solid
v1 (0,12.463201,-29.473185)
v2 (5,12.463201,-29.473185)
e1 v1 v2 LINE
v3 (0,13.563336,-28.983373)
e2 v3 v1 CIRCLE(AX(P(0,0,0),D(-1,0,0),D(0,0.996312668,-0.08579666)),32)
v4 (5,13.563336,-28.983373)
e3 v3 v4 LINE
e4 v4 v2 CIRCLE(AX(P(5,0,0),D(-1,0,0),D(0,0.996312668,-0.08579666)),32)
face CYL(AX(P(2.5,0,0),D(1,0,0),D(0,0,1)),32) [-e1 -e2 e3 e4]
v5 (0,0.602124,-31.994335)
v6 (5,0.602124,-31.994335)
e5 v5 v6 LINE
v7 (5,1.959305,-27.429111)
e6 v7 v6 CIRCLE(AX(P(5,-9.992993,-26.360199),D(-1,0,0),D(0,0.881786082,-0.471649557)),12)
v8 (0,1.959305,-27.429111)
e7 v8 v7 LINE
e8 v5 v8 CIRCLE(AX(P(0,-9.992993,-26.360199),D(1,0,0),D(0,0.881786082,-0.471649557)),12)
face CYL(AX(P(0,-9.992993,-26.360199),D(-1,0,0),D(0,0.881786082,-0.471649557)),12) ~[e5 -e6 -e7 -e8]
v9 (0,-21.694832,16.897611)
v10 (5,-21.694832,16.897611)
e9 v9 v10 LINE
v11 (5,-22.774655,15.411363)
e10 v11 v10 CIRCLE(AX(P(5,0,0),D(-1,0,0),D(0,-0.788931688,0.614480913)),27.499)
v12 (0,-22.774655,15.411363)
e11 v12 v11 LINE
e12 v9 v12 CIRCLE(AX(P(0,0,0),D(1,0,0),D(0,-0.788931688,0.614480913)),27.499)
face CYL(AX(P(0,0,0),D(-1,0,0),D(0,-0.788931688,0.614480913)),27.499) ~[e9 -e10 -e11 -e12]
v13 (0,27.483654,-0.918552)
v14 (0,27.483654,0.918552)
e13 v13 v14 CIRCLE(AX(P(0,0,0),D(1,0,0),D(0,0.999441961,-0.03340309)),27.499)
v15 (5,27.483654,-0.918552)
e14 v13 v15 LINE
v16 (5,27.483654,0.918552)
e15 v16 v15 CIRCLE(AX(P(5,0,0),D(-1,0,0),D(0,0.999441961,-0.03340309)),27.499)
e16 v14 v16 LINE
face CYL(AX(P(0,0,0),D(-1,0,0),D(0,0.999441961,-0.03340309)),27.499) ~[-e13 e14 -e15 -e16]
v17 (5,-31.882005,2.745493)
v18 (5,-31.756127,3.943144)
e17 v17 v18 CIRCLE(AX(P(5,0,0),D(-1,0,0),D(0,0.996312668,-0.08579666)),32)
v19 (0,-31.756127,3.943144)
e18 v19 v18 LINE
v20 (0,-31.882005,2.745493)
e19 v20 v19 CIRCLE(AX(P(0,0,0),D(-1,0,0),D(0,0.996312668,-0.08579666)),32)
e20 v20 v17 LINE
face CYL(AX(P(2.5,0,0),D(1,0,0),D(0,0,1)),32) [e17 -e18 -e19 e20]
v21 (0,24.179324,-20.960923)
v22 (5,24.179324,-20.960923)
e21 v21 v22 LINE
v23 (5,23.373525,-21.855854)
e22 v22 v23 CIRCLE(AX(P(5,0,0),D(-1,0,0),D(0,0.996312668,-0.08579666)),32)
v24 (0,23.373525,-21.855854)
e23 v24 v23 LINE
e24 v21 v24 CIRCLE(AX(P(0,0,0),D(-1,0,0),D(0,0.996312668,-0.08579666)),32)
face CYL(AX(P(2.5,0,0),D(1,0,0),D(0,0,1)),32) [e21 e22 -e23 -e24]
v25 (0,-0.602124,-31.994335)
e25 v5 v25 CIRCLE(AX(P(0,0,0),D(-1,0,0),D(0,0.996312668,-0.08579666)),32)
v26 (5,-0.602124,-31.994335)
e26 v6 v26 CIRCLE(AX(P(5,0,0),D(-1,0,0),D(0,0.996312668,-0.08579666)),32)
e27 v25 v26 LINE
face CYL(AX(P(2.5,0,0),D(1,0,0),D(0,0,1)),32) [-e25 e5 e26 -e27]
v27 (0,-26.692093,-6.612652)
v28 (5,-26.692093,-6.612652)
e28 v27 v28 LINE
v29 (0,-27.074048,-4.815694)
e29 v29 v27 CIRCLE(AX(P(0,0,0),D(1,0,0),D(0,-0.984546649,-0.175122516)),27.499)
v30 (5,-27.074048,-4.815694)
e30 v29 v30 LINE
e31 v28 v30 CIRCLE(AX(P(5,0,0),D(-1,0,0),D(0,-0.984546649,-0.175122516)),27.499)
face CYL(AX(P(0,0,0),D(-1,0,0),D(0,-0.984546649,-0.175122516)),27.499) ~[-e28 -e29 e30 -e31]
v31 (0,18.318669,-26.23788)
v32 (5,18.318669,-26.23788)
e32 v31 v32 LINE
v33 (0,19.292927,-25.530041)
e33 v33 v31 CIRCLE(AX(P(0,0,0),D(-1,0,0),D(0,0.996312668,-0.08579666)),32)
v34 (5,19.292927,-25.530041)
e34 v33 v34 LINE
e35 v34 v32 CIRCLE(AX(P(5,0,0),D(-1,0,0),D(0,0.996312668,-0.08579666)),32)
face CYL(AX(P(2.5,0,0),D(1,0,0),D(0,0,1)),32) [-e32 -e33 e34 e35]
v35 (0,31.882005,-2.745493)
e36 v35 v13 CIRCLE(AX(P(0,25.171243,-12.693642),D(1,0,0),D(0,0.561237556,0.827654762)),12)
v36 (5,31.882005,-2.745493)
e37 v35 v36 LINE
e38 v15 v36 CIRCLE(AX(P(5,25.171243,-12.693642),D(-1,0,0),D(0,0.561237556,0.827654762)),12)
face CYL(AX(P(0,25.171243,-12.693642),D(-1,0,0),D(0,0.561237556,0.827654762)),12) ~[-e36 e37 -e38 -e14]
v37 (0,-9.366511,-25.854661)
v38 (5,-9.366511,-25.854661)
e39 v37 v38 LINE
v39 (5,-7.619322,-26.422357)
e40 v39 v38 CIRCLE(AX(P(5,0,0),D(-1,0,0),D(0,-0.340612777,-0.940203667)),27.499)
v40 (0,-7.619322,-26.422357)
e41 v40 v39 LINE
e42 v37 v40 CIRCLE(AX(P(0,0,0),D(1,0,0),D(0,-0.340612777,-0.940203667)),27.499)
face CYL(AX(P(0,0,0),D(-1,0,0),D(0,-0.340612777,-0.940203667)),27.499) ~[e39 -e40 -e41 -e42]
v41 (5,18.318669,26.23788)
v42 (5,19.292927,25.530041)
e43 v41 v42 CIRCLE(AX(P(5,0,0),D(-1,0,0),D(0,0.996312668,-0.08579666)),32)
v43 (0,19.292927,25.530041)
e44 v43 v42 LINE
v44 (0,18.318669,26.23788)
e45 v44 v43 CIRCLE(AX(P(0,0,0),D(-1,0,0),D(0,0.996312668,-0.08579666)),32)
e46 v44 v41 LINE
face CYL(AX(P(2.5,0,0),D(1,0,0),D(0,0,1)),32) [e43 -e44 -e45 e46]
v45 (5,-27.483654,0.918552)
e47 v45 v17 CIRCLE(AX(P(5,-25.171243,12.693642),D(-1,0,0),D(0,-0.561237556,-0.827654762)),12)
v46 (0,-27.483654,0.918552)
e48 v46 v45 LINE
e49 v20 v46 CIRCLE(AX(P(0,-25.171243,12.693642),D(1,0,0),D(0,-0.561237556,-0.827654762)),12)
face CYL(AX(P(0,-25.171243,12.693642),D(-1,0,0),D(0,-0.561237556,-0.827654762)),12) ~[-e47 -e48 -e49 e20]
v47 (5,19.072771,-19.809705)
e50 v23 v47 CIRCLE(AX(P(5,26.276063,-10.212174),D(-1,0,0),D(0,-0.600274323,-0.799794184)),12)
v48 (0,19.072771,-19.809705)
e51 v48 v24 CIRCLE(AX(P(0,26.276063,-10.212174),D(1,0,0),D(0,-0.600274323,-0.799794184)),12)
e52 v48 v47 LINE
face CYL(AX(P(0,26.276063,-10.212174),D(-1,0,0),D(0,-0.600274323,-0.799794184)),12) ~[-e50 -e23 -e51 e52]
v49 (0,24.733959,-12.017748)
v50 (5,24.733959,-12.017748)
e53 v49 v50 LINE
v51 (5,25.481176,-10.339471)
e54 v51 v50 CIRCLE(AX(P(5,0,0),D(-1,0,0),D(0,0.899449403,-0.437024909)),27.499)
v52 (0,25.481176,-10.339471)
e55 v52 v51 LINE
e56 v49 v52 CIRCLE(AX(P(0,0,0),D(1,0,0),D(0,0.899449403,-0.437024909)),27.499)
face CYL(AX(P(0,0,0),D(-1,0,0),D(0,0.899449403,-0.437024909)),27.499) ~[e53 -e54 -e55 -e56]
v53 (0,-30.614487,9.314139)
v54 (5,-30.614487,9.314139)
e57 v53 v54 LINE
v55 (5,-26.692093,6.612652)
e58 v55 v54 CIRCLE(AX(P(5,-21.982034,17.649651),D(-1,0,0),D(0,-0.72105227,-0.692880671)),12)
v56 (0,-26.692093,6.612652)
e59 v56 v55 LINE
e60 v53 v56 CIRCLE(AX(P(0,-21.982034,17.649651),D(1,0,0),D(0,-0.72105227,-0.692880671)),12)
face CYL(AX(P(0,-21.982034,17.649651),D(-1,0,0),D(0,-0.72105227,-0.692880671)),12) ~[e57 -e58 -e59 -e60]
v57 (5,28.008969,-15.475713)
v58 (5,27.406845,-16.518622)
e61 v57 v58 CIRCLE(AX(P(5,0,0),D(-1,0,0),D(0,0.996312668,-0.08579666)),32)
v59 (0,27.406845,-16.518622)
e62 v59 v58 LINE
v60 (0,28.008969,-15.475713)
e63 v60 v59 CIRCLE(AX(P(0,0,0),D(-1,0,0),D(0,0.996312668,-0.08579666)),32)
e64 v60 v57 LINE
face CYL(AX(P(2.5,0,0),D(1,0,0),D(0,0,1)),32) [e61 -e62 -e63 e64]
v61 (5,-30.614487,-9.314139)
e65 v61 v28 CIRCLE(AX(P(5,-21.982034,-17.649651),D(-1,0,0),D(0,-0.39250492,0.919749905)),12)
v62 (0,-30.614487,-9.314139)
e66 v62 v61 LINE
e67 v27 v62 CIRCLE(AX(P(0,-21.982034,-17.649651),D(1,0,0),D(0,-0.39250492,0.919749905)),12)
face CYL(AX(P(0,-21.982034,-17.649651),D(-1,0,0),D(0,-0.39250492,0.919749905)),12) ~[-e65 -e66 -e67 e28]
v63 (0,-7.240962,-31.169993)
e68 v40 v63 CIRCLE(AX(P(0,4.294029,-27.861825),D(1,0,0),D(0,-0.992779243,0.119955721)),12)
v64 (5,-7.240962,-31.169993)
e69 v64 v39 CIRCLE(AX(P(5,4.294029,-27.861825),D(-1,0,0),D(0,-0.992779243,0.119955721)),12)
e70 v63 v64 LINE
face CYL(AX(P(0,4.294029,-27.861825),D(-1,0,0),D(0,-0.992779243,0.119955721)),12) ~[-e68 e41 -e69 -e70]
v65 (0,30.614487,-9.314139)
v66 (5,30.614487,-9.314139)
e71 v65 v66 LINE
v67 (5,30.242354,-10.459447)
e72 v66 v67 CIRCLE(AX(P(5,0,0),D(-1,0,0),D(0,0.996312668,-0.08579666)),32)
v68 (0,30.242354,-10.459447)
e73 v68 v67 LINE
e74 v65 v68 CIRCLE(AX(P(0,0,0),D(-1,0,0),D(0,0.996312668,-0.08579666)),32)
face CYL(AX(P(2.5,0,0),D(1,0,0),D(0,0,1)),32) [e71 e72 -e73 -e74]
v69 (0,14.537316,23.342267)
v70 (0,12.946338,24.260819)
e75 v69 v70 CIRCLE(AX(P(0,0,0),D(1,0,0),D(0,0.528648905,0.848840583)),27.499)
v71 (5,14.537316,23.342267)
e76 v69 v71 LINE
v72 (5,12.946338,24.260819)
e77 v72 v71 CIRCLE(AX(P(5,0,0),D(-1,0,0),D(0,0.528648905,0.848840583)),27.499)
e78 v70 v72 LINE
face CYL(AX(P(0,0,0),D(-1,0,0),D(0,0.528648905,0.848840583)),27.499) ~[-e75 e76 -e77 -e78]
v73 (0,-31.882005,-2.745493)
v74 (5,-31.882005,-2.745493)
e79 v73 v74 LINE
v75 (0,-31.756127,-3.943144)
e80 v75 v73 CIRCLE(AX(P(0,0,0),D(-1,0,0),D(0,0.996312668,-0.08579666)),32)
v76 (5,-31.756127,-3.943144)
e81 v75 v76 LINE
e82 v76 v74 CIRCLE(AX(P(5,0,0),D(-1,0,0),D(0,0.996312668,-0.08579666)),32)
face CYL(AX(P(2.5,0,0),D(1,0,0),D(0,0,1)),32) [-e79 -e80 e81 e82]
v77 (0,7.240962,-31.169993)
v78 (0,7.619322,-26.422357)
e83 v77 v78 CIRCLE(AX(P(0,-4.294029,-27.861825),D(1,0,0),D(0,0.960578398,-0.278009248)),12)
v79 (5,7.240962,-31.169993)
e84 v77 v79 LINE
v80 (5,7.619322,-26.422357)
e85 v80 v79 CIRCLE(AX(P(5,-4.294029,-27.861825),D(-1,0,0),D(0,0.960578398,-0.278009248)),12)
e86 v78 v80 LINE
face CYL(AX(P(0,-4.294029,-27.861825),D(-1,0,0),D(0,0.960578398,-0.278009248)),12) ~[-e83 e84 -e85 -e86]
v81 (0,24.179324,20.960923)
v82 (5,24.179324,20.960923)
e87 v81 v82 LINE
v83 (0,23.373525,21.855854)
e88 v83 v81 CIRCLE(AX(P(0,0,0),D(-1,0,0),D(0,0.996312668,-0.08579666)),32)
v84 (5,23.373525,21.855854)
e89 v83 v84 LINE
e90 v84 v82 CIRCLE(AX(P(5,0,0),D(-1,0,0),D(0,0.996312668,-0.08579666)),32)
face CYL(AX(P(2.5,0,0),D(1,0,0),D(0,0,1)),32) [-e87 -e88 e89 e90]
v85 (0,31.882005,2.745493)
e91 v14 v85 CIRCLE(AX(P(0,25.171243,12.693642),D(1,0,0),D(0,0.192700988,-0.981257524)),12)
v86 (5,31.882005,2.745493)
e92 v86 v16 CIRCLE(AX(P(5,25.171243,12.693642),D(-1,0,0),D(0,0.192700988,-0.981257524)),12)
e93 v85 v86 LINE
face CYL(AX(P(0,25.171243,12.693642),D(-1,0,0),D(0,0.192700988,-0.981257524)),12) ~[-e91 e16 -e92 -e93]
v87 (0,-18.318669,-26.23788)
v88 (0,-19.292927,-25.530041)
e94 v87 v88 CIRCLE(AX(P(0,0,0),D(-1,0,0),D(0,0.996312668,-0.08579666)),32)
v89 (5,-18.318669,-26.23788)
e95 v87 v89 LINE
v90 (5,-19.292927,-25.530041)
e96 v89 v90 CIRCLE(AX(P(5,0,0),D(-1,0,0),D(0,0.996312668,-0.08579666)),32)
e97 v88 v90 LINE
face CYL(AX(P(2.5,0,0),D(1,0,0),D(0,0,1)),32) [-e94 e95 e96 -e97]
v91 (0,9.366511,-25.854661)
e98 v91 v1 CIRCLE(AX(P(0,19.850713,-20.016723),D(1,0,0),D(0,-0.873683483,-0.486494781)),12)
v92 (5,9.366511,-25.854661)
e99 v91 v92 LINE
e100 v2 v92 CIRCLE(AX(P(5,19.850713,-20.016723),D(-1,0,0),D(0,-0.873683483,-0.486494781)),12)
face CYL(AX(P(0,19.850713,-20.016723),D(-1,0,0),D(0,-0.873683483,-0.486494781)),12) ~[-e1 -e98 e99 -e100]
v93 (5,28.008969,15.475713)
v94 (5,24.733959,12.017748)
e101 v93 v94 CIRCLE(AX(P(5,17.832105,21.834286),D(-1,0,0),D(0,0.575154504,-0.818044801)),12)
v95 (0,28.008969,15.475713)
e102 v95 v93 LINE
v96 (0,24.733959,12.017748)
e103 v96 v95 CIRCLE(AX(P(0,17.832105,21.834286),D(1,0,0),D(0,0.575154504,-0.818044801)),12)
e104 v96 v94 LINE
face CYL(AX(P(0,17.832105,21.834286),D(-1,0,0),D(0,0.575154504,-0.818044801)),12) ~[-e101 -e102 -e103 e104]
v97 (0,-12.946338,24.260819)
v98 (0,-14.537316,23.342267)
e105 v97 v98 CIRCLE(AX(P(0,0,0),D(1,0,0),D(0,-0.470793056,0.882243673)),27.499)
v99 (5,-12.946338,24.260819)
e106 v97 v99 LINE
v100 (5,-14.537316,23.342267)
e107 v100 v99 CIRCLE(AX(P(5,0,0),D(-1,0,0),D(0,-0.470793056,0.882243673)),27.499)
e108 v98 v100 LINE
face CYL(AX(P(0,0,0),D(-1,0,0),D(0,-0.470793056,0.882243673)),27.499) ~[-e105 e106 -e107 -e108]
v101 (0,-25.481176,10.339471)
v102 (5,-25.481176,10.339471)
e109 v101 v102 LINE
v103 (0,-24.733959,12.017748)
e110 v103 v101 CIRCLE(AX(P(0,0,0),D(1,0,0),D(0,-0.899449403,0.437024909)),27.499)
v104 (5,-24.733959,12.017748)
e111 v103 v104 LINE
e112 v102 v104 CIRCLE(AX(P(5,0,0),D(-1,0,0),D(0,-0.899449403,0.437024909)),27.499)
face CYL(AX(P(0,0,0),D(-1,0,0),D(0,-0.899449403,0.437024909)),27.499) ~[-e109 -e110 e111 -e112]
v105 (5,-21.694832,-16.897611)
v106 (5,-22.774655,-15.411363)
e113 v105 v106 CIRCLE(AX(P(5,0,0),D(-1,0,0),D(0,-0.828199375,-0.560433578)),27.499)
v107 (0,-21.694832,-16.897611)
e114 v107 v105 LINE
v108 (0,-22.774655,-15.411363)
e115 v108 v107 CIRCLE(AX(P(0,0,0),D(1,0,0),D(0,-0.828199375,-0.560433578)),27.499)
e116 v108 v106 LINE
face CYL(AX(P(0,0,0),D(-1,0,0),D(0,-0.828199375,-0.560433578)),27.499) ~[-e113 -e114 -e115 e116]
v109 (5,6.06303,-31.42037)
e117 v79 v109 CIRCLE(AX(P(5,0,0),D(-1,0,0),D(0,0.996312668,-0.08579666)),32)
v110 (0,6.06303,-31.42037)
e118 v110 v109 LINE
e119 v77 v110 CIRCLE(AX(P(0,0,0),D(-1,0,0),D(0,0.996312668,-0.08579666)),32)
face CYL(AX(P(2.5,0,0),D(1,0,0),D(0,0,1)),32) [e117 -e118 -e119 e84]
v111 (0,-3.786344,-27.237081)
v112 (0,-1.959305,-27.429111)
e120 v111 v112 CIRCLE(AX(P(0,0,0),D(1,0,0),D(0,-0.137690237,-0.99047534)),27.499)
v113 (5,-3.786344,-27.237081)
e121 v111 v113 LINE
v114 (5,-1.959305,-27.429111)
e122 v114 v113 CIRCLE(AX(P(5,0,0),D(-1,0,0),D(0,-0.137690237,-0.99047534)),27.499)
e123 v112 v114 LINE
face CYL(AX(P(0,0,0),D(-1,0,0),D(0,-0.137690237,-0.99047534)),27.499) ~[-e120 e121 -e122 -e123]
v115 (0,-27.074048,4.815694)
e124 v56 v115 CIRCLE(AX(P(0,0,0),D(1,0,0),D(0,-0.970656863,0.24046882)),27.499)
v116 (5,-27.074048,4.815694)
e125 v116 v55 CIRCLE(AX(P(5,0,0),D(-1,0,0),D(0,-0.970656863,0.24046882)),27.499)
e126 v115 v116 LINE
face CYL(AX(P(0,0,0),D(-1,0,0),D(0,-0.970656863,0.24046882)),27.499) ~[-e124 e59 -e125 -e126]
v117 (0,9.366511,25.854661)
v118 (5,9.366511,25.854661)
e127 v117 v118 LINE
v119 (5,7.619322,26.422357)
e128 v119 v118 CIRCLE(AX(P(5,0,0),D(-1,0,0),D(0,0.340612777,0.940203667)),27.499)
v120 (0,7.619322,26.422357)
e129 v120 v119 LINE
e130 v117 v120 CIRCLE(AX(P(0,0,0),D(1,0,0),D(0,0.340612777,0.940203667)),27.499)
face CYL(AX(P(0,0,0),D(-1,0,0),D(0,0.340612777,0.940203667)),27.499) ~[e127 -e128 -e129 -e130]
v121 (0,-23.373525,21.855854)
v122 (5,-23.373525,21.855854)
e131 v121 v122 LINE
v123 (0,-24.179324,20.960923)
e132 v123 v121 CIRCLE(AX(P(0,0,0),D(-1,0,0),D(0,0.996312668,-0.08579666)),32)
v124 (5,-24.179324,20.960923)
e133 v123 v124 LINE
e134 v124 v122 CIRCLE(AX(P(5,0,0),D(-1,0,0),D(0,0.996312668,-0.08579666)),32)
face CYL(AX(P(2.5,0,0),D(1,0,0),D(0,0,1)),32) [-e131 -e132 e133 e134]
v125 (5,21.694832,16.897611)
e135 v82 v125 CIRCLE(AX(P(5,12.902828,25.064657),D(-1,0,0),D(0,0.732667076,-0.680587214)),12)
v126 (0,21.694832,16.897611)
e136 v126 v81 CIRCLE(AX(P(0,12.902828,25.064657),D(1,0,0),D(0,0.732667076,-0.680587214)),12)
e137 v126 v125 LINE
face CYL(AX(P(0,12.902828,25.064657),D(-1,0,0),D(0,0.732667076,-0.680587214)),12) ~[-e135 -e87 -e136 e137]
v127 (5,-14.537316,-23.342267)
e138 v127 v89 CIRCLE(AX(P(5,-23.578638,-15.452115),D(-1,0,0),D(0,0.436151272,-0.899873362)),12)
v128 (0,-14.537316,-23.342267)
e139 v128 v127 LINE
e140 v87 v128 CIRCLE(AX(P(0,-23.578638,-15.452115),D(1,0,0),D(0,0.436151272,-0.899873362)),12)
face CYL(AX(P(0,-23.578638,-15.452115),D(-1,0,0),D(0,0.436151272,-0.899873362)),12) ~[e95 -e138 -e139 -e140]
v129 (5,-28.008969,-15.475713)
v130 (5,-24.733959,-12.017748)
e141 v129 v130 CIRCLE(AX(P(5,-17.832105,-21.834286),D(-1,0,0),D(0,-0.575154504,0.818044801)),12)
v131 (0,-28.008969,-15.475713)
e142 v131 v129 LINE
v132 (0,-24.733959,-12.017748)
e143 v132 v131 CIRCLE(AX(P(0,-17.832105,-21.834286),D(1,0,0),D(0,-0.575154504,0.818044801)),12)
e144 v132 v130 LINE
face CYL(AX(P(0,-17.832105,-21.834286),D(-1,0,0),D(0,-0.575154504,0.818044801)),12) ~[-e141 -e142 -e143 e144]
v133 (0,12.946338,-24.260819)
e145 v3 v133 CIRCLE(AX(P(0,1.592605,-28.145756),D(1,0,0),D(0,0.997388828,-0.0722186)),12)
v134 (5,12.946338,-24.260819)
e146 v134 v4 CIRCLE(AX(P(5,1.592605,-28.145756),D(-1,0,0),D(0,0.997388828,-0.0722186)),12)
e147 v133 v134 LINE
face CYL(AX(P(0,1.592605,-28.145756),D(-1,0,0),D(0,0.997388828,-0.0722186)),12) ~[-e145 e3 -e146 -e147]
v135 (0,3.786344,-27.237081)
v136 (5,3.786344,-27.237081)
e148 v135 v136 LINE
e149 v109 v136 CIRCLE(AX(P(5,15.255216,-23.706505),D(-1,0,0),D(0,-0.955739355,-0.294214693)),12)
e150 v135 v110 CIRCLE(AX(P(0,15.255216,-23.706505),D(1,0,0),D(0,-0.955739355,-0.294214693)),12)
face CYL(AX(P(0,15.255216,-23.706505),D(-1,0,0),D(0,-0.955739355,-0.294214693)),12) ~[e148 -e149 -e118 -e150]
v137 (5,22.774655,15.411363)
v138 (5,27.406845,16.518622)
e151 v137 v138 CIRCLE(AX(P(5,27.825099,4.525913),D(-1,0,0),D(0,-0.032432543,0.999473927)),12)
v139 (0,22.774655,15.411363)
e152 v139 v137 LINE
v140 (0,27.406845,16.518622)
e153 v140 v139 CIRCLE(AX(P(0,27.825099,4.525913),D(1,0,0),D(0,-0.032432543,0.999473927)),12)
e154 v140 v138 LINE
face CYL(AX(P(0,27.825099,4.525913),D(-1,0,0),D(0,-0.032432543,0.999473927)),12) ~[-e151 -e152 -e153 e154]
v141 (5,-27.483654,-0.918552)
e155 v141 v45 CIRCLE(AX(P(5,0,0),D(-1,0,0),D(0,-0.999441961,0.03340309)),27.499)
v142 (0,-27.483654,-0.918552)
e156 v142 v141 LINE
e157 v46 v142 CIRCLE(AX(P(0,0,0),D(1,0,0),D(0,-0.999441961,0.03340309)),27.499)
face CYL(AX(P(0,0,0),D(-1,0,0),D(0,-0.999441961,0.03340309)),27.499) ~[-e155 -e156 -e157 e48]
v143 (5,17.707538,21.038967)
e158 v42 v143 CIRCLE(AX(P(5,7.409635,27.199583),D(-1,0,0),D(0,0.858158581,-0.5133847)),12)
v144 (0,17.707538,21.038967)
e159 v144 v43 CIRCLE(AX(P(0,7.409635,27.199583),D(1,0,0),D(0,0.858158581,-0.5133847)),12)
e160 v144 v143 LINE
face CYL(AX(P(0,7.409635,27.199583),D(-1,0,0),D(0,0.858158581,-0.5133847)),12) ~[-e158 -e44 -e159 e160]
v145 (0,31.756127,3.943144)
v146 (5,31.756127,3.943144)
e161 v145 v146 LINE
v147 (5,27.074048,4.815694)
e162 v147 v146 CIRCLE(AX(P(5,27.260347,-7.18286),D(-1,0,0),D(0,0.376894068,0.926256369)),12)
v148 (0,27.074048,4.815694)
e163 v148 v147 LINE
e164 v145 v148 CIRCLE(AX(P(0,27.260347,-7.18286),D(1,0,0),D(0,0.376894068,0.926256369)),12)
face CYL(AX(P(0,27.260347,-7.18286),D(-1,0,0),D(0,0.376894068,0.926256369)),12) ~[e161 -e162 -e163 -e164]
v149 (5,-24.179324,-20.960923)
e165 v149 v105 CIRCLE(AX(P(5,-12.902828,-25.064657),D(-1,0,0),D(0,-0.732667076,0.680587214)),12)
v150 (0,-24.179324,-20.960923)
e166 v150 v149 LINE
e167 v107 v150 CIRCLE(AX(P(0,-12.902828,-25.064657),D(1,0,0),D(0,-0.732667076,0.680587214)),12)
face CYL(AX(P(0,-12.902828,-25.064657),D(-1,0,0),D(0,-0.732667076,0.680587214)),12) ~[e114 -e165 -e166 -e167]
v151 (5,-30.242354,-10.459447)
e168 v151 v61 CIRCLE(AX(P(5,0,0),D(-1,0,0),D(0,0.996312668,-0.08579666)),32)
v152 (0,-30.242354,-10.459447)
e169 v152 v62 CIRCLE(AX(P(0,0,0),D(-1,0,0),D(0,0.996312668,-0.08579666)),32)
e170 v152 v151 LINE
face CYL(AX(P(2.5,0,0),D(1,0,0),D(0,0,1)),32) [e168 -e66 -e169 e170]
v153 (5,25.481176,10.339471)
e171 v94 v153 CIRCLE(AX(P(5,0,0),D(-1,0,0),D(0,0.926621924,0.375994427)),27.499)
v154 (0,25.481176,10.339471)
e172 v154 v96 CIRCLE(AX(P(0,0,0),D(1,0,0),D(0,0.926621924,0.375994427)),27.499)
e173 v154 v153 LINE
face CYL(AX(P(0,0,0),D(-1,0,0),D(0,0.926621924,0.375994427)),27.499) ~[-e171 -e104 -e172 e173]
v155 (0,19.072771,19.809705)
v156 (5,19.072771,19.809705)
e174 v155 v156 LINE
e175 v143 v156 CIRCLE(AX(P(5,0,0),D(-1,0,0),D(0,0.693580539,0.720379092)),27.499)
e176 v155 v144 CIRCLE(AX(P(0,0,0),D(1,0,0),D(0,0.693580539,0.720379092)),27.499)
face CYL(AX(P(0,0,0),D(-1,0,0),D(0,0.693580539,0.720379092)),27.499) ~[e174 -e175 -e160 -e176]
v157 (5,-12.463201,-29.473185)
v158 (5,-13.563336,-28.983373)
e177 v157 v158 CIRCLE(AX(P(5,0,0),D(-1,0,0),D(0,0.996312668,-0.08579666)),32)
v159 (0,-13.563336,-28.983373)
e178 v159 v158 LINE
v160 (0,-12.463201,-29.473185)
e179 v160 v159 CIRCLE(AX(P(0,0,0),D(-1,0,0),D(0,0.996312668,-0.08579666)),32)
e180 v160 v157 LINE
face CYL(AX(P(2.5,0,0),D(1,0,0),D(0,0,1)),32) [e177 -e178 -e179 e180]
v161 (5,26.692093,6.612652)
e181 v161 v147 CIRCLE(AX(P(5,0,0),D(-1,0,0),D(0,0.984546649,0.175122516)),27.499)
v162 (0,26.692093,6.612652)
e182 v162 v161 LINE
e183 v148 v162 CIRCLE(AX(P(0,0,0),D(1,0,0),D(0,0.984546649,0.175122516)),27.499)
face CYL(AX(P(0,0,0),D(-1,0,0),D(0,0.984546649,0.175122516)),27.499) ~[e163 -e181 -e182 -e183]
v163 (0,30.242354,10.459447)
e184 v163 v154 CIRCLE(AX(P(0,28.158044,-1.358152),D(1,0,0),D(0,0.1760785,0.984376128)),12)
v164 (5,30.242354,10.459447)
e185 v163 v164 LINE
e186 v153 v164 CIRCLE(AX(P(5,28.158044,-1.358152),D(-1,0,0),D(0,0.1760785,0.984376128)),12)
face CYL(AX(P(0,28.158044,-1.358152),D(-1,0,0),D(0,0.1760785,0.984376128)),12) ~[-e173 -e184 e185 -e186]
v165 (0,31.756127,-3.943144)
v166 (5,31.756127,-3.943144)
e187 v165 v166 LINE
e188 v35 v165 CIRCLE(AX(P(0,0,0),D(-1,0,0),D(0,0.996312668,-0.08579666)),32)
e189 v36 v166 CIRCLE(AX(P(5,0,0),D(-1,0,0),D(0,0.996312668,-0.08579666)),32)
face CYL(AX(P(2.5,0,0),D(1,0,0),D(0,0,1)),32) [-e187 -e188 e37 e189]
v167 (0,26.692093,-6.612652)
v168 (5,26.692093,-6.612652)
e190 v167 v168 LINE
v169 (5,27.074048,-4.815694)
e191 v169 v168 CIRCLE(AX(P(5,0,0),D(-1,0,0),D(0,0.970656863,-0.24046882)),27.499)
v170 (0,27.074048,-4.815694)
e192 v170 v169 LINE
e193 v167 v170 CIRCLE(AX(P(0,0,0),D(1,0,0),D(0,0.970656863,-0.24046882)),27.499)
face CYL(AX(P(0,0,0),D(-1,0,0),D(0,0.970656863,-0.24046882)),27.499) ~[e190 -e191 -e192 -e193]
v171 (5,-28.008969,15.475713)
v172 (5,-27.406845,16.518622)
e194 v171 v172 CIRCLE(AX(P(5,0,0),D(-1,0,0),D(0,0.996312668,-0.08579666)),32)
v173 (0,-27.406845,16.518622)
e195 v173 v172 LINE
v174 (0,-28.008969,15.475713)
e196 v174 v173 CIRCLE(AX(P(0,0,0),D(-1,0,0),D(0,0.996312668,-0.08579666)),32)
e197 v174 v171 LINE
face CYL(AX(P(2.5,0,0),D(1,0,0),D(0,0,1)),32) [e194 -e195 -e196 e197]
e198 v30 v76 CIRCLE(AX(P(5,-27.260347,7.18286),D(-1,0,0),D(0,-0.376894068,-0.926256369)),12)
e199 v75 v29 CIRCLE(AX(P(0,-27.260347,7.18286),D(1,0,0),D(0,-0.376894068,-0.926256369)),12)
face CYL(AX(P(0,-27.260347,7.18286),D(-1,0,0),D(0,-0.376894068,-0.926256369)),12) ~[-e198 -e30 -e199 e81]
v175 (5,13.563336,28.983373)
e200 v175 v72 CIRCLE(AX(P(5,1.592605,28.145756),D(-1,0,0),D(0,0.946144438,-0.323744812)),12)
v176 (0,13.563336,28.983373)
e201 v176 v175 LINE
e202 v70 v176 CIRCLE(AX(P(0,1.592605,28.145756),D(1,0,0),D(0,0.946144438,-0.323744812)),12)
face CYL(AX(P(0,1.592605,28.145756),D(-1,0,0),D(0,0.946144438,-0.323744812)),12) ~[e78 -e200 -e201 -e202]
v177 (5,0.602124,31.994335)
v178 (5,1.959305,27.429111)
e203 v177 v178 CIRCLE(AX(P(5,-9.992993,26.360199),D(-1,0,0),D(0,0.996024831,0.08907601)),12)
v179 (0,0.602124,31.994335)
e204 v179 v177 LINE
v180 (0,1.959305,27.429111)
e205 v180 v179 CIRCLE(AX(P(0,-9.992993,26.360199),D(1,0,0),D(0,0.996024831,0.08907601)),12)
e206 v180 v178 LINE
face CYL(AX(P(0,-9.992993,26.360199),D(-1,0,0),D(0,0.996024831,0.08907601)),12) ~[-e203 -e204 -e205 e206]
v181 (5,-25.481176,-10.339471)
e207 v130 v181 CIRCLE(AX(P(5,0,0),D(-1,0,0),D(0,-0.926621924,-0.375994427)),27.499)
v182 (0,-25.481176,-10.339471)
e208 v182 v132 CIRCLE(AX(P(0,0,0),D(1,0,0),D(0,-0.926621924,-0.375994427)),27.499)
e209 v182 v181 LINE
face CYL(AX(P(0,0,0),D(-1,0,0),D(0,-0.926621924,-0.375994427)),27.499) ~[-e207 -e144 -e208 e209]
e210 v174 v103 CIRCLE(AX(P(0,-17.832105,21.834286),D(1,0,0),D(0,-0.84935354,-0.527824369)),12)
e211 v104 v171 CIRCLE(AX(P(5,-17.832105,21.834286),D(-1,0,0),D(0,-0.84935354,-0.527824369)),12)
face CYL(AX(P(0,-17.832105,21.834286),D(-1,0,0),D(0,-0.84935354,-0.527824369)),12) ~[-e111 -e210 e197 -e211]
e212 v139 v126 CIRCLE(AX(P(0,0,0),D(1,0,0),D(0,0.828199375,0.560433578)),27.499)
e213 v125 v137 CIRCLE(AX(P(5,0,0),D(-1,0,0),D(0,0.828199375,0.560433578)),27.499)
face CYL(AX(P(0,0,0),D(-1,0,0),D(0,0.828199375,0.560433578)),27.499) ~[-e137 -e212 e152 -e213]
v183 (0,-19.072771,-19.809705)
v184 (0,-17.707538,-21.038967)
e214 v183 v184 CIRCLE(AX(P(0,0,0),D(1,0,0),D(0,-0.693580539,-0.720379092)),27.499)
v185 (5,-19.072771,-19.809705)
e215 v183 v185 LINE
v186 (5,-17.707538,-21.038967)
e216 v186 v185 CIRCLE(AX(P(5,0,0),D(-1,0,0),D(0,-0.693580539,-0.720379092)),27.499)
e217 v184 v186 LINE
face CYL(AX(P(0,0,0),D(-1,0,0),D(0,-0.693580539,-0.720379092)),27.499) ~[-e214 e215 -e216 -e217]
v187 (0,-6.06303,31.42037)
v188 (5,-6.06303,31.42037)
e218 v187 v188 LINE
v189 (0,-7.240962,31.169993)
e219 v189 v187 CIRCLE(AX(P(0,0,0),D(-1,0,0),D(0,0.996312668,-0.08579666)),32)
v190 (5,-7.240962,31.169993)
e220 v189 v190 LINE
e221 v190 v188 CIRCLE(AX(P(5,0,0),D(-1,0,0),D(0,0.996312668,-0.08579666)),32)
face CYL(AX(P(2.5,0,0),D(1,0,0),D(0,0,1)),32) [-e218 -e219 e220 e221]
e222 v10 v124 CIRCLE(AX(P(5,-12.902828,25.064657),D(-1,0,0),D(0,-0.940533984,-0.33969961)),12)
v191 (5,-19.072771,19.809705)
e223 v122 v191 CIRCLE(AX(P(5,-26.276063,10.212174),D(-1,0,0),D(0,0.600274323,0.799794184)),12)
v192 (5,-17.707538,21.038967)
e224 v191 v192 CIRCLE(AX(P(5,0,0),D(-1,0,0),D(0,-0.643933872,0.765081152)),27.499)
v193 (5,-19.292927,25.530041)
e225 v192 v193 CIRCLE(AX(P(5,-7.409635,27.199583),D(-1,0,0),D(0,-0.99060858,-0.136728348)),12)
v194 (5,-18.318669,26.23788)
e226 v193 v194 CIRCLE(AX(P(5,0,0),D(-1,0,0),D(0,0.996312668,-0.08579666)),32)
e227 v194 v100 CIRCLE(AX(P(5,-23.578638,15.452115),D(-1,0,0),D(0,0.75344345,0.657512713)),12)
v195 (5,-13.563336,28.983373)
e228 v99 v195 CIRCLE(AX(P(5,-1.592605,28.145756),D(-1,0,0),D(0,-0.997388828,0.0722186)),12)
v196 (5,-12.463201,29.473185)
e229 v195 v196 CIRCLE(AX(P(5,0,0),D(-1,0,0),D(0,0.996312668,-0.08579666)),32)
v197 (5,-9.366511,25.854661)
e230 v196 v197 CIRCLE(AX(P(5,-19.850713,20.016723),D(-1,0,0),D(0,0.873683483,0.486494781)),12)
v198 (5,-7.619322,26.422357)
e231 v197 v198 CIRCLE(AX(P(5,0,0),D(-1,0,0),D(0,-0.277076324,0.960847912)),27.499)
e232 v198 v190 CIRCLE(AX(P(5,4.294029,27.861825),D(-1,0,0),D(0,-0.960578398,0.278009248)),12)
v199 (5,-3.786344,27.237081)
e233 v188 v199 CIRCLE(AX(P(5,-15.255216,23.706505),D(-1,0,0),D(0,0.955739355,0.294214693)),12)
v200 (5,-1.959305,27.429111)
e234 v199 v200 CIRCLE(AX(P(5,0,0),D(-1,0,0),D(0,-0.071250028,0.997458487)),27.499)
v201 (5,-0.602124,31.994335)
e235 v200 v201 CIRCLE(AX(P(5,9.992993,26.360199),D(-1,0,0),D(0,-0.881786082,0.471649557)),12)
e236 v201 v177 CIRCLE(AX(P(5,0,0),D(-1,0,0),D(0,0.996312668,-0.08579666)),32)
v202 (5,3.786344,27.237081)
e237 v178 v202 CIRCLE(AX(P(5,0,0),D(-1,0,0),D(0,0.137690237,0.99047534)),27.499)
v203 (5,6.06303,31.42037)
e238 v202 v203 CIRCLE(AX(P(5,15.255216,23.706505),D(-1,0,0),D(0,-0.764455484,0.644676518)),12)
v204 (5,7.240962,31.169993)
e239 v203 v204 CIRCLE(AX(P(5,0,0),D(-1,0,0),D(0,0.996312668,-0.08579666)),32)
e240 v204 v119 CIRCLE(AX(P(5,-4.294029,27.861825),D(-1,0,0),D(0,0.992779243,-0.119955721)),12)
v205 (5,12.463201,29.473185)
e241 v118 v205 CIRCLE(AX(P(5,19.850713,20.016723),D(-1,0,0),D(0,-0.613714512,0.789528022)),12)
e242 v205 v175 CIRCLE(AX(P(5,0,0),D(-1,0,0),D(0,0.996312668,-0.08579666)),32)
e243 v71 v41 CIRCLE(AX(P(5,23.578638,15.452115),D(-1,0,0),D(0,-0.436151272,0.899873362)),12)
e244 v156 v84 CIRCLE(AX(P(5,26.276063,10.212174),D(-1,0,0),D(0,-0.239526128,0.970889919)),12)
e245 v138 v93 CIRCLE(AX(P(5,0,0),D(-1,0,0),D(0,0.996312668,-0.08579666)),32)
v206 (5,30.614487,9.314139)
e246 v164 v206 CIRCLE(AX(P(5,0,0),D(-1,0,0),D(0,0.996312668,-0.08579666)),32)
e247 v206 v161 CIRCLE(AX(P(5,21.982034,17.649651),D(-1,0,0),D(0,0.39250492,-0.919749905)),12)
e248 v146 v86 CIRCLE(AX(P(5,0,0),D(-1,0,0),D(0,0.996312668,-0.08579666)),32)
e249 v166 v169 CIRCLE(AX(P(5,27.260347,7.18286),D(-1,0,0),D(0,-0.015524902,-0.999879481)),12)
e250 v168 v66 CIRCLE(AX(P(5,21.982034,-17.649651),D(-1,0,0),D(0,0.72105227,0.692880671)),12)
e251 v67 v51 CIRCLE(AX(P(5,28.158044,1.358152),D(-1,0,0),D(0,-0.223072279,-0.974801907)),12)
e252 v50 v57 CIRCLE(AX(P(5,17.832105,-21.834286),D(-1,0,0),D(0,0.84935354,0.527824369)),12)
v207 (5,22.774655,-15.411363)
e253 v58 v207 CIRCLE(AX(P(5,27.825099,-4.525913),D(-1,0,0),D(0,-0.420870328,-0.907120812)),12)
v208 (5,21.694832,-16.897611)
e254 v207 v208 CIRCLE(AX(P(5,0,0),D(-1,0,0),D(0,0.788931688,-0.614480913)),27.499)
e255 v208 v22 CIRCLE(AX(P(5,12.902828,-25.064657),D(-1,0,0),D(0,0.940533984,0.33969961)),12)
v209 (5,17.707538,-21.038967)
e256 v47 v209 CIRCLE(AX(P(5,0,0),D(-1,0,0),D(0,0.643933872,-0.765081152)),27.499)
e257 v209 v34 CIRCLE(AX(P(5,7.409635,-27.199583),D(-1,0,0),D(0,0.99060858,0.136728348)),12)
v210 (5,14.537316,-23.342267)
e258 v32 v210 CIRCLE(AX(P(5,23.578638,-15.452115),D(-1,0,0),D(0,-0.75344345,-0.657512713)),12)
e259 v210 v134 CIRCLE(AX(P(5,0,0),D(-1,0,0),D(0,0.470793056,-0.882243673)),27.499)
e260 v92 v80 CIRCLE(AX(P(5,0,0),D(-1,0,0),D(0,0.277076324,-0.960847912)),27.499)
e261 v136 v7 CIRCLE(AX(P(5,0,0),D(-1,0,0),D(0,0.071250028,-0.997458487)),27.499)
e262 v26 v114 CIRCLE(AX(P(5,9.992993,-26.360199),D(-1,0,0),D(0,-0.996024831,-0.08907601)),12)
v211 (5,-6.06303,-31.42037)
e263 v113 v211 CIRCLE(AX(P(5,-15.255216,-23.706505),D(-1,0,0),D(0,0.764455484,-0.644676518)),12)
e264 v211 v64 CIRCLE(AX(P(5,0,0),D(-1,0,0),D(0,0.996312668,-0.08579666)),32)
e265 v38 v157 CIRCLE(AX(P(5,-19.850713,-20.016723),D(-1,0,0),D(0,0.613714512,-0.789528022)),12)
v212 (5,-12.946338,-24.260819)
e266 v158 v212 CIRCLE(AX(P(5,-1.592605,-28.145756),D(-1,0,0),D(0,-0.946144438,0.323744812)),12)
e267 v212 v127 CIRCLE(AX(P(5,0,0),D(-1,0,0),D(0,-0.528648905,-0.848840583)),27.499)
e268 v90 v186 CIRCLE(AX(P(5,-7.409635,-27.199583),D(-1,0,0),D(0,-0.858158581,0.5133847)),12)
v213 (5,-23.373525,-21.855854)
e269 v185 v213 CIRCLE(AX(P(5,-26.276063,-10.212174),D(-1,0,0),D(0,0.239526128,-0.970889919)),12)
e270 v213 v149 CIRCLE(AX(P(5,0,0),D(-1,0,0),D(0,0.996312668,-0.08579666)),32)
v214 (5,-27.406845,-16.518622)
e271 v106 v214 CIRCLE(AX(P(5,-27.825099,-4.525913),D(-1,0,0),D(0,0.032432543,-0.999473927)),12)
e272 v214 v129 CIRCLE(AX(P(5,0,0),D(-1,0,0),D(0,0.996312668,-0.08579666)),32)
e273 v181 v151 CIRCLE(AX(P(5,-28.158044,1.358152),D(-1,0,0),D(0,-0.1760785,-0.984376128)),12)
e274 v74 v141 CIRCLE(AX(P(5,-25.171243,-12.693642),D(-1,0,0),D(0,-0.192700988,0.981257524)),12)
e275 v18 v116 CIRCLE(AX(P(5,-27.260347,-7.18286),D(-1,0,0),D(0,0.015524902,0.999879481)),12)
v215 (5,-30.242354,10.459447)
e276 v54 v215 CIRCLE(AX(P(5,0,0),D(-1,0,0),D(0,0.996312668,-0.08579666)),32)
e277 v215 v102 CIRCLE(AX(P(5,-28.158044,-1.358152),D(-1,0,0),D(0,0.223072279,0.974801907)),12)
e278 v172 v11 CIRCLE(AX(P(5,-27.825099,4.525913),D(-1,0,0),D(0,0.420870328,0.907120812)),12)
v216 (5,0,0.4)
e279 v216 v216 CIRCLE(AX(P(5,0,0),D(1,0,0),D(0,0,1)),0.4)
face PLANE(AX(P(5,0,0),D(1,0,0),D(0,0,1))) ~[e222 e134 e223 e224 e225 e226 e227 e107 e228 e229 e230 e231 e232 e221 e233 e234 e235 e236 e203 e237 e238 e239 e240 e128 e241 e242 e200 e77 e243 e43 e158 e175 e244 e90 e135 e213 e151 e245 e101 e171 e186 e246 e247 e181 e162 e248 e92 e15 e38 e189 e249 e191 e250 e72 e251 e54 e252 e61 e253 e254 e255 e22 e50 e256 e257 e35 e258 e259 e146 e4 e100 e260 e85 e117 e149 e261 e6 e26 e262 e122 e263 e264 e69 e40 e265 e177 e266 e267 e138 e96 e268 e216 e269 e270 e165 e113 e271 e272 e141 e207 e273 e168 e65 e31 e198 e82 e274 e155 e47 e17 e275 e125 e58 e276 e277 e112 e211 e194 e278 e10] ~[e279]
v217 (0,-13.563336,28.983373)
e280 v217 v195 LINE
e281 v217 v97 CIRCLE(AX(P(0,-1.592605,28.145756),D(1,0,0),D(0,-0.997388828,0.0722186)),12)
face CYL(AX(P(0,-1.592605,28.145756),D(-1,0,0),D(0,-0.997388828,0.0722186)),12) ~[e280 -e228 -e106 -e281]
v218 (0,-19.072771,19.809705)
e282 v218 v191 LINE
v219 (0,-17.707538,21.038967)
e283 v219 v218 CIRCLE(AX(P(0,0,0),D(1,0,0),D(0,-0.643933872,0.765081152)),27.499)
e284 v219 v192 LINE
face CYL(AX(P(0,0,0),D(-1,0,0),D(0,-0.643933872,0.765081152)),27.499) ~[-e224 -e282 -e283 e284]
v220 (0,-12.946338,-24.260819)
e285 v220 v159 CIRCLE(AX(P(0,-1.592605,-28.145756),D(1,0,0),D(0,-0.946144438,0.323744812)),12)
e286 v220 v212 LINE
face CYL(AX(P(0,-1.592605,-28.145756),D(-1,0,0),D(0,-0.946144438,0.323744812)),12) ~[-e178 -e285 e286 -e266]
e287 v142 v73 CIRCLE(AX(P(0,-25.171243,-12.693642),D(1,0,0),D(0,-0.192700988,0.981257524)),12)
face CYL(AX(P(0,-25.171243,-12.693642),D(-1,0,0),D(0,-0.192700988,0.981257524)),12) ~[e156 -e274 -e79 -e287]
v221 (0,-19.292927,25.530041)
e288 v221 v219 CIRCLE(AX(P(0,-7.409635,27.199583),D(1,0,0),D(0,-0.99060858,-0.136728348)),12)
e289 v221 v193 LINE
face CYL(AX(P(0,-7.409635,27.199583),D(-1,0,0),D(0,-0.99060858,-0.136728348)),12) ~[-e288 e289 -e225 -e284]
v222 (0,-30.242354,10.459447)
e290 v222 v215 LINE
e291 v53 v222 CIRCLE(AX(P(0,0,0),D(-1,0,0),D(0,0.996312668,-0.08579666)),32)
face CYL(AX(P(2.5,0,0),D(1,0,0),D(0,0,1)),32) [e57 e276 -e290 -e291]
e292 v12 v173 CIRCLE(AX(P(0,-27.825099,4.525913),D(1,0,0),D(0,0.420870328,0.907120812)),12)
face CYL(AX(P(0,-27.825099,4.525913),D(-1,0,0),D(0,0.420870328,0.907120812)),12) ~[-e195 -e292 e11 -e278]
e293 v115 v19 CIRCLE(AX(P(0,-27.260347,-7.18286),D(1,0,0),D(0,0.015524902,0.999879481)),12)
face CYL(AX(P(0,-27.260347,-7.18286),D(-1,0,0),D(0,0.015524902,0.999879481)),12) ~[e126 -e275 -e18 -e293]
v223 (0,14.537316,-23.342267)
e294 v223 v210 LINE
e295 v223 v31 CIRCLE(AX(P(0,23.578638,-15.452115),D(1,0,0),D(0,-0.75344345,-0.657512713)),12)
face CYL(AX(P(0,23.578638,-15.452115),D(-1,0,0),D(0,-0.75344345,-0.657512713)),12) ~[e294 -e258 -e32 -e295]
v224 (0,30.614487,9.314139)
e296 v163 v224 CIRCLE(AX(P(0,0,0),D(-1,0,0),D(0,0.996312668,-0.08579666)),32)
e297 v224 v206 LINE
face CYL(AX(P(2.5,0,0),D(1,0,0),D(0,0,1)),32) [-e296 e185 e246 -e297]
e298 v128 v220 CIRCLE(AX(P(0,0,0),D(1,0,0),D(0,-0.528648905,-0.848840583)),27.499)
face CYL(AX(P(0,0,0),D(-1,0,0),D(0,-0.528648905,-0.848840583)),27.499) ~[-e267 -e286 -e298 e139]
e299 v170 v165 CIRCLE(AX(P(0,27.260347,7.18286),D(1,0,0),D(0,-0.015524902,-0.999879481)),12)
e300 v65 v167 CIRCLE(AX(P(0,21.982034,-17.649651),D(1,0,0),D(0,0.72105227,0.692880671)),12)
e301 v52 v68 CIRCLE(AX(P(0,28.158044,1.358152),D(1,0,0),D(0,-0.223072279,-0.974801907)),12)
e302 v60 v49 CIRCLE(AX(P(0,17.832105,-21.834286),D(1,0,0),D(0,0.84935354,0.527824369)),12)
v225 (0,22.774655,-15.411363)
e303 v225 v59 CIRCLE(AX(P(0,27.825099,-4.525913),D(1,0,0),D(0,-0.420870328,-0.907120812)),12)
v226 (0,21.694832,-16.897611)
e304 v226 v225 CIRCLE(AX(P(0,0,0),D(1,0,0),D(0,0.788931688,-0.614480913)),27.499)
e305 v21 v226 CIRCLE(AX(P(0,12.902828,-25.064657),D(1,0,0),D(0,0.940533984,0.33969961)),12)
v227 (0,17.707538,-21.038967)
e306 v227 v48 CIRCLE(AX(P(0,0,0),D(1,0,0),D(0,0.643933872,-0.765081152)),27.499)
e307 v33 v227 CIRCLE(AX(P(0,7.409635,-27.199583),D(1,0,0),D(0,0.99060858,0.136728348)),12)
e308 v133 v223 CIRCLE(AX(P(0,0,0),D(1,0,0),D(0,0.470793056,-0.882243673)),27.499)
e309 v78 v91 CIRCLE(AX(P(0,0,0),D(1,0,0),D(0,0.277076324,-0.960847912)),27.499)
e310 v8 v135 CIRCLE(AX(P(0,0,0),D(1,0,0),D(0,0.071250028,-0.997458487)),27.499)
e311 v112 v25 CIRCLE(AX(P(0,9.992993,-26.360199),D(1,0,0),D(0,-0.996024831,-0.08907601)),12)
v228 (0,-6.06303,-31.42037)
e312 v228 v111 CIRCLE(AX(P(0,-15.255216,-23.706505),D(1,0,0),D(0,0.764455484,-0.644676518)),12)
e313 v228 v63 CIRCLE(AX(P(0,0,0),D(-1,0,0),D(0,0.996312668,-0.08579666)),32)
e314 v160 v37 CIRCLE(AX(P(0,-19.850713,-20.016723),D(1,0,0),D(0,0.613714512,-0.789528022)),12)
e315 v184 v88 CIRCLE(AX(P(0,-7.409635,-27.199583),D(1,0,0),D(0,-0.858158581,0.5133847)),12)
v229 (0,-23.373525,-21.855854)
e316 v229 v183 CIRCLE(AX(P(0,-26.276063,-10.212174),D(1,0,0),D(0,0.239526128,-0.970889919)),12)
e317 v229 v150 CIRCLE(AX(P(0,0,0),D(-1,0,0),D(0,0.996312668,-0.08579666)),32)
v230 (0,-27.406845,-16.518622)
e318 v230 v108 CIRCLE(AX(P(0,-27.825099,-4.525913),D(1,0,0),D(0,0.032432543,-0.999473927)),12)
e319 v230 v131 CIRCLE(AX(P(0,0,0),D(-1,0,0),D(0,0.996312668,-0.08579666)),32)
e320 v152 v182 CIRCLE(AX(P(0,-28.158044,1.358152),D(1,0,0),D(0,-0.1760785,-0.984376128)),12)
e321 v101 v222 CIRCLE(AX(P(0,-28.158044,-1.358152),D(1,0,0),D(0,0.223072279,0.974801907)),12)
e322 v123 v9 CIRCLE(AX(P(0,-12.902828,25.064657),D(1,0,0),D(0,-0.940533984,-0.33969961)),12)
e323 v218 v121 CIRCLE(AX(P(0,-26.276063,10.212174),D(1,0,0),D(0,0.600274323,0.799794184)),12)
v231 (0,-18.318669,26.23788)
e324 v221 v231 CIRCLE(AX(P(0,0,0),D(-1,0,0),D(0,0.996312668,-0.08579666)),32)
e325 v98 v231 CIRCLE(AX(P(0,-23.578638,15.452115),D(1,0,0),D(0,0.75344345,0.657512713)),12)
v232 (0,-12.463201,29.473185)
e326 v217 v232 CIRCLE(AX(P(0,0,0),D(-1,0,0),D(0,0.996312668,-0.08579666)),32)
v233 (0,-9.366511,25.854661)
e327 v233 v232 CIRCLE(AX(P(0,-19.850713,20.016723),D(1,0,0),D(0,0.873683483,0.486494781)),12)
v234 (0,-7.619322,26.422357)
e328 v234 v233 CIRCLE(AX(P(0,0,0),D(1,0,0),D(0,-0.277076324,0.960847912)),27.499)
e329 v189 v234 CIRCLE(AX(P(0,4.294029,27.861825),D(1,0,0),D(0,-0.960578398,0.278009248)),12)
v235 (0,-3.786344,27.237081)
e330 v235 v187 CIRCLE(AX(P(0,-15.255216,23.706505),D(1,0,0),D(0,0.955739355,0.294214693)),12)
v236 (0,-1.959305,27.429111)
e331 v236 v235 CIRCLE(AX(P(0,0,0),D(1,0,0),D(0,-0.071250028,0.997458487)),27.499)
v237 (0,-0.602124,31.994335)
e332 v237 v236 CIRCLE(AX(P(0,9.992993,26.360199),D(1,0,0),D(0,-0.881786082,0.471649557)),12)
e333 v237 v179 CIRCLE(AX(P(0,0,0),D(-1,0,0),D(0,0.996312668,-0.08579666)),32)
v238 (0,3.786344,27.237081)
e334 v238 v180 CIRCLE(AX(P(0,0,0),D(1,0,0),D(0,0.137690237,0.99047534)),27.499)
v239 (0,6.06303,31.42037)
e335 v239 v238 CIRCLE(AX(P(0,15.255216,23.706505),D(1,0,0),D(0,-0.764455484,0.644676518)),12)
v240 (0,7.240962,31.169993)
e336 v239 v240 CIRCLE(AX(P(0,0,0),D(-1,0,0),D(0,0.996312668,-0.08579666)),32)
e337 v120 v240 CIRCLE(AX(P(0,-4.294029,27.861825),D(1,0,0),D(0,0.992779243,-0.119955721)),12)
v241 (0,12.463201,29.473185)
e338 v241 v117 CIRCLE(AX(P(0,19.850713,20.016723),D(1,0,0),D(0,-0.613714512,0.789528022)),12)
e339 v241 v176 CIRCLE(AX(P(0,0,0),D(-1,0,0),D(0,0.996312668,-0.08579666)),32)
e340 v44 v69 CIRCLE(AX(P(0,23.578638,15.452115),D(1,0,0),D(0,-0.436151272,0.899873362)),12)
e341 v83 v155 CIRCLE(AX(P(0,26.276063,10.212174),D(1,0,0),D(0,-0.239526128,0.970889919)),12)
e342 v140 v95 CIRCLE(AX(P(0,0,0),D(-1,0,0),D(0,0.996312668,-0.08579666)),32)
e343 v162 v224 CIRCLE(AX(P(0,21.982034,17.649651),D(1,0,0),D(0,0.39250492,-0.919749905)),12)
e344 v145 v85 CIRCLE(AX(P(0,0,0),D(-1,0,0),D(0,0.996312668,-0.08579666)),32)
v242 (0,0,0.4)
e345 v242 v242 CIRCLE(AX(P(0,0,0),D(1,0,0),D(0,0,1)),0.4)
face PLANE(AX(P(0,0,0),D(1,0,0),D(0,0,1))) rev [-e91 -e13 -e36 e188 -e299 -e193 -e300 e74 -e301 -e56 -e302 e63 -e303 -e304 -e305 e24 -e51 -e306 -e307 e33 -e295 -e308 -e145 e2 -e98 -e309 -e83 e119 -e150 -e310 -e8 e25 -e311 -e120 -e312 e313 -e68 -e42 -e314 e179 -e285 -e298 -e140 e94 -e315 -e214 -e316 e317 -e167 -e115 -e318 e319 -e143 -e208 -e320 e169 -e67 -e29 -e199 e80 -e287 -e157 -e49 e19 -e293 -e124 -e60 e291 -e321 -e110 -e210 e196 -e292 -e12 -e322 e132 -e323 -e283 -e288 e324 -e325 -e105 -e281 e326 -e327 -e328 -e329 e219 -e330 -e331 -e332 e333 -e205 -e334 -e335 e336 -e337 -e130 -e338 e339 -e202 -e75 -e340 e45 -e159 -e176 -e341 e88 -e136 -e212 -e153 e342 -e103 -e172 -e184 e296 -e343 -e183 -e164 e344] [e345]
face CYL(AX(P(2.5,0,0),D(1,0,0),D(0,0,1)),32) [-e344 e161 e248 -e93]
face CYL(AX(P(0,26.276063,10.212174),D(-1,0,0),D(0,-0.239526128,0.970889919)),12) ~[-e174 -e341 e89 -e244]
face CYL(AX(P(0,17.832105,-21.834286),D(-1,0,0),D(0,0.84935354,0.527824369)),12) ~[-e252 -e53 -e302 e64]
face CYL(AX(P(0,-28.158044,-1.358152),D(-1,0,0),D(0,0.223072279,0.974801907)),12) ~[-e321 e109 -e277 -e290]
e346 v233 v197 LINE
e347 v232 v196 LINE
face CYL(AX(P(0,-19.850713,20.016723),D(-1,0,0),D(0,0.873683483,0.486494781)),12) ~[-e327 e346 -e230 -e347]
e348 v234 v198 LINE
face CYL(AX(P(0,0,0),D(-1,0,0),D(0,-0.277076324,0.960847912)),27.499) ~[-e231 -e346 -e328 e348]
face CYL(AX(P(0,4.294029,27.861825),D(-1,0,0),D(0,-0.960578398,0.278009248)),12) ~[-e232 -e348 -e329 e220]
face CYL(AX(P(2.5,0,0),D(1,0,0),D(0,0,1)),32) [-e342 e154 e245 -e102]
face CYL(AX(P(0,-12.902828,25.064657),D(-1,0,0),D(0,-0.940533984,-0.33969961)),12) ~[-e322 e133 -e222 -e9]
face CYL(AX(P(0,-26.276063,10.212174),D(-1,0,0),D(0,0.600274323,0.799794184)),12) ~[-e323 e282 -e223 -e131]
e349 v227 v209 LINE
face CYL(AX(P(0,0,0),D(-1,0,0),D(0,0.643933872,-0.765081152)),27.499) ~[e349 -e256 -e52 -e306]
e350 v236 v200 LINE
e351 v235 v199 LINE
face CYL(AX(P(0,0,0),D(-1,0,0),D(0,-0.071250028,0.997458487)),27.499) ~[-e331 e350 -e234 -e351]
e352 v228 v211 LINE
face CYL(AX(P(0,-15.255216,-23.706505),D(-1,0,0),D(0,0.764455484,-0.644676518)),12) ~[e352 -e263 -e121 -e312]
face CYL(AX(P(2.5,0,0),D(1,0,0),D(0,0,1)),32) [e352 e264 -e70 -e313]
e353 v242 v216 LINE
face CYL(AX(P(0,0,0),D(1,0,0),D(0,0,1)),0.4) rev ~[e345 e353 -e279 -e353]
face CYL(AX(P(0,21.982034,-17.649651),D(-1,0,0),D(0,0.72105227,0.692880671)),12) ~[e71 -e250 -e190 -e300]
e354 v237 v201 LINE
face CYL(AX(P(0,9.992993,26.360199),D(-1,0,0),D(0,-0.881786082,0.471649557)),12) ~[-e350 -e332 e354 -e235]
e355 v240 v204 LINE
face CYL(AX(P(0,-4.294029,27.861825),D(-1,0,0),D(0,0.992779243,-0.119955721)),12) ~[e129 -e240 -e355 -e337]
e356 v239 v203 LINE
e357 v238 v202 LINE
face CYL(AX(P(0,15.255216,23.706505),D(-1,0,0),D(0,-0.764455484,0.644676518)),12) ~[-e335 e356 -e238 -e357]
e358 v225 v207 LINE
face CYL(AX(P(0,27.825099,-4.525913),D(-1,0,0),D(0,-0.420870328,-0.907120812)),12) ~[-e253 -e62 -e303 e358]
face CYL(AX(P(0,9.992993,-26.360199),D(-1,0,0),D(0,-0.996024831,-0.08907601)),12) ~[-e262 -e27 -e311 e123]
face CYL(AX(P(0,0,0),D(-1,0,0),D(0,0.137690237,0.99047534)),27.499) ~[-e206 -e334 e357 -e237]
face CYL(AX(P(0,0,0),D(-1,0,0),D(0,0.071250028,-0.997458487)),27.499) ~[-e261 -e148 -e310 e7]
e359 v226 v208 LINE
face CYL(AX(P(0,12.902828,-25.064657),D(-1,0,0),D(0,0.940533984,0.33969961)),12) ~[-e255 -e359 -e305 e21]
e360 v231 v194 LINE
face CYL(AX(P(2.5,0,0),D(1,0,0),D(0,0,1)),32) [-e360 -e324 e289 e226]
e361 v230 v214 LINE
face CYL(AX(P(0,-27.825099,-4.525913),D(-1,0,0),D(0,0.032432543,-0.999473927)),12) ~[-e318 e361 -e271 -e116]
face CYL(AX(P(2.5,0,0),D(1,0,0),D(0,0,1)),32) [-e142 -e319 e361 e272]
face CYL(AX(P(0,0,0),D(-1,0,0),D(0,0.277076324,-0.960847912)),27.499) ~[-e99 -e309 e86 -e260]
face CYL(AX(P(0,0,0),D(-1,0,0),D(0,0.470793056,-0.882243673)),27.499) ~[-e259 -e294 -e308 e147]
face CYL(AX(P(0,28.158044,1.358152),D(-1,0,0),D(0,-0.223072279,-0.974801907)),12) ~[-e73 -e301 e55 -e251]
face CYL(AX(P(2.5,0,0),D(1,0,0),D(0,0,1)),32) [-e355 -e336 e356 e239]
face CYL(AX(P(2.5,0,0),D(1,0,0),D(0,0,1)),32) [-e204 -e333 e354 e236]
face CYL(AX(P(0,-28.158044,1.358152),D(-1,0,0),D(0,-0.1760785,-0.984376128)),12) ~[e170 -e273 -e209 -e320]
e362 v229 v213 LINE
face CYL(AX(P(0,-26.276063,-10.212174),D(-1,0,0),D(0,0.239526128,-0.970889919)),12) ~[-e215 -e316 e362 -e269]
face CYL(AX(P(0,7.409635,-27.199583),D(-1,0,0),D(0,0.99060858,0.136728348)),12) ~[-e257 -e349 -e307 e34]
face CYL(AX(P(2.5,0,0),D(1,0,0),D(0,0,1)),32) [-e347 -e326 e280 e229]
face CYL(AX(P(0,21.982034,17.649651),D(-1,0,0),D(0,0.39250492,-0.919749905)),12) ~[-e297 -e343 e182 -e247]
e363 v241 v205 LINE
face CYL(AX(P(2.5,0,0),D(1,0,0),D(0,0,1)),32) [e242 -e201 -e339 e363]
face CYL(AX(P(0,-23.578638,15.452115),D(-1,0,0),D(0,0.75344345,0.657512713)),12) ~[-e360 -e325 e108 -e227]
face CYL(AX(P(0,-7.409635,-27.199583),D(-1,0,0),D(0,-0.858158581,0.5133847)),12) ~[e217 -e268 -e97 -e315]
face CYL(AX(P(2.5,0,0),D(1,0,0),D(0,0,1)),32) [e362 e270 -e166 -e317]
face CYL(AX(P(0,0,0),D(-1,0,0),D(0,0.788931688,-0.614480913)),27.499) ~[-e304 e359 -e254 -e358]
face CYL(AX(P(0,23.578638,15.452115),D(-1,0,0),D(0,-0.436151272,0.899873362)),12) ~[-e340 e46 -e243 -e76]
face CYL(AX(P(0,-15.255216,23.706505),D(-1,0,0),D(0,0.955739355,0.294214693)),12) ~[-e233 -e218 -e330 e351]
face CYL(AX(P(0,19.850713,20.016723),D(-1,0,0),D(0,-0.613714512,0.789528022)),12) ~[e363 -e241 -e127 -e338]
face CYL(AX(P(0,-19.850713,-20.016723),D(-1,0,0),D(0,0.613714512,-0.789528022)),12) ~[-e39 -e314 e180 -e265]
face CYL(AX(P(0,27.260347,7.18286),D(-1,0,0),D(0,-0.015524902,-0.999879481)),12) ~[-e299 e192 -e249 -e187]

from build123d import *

# Parameters (mm, degrees)
BASPROSKE_W     = 5
BASPROSKE_H     = 32
TOOTHCUT_DEPTH  = 46.530209751
TEETHCUTS_COUNT = 30
TEETHCUTS_ANGLE = 348
BORSKE_R        = 0.4
BORE_DEPTH      = 50.0000508


with BuildPart() as part:
    # BasProSke → Base-Revolve (revolve)
    with BuildSketch(Plane(origin=(0, 0, 0), x_dir=(1, 0, 0), z_dir=(0, 1, 0)), mode=Mode.PRIVATE) as base_revolve_sk:
        with Locations((2.5, 16)):
            Rectangle(BASPROSKE_W, BASPROSKE_H)
    revolve(base_revolve_sk.sketch.rotate(Axis((-10, 0, 0), (1, 0, 0)), 180), axis=Axis((-10, 0, 0), (1, 0, 0)))

    # TooCutSke → ToothCut (cut, through all)
    with BuildSketch(Plane(origin=(0, 0, 0), x_dir=(0, 0, -1), z_dir=(1, 0, 0))):
        with BuildLine():
            ThreePointArc((0.918551563, 27.483654488), (0, 27.499), (-0.918551563, 27.483654488))
            ThreePointArc((-0.918551563, 27.483654488), (-1.617208176, 29.787801627), (-2.761784709, 31.906093311))
            ThreePointArc((-2.761784709, 31.906093311), (0, 32.0254), (2.761784709, 31.906093311))
            ThreePointArc((2.761784709, 31.906093311), (1.617208176, 29.787801627), (0.918551563, 27.483654488))
        make_face()
    toothcut = extrude(amount=TOOTHCUT_DEPTH, mode=Mode.SUBTRACT)

    # TeethCuts: ToothCut ×30 about axis
    teethcuts_axis = Axis((-10, 0, 0), (1, 0, 0))
    for i in range(1, TEETHCUTS_COUNT):
        add(toothcut.rotate(teethcuts_axis, i * TEETHCUTS_ANGLE / (TEETHCUTS_COUNT - 1)), mode=Mode.SUBTRACT)

    # BorSke → Bore (cut, symmetric)
    with BuildSketch(Plane(origin=(0, 0, 0), x_dir=(0, 0, -1), z_dir=(1, 0, 0))):
        with Locations(Location((0, 0, 0), (0, 0, 180))):
            Circle(BORSKE_R)
    extrude(amount=BORE_DEPTH, both=True, mode=Mode.SUBTRACT)


solid = part.part
